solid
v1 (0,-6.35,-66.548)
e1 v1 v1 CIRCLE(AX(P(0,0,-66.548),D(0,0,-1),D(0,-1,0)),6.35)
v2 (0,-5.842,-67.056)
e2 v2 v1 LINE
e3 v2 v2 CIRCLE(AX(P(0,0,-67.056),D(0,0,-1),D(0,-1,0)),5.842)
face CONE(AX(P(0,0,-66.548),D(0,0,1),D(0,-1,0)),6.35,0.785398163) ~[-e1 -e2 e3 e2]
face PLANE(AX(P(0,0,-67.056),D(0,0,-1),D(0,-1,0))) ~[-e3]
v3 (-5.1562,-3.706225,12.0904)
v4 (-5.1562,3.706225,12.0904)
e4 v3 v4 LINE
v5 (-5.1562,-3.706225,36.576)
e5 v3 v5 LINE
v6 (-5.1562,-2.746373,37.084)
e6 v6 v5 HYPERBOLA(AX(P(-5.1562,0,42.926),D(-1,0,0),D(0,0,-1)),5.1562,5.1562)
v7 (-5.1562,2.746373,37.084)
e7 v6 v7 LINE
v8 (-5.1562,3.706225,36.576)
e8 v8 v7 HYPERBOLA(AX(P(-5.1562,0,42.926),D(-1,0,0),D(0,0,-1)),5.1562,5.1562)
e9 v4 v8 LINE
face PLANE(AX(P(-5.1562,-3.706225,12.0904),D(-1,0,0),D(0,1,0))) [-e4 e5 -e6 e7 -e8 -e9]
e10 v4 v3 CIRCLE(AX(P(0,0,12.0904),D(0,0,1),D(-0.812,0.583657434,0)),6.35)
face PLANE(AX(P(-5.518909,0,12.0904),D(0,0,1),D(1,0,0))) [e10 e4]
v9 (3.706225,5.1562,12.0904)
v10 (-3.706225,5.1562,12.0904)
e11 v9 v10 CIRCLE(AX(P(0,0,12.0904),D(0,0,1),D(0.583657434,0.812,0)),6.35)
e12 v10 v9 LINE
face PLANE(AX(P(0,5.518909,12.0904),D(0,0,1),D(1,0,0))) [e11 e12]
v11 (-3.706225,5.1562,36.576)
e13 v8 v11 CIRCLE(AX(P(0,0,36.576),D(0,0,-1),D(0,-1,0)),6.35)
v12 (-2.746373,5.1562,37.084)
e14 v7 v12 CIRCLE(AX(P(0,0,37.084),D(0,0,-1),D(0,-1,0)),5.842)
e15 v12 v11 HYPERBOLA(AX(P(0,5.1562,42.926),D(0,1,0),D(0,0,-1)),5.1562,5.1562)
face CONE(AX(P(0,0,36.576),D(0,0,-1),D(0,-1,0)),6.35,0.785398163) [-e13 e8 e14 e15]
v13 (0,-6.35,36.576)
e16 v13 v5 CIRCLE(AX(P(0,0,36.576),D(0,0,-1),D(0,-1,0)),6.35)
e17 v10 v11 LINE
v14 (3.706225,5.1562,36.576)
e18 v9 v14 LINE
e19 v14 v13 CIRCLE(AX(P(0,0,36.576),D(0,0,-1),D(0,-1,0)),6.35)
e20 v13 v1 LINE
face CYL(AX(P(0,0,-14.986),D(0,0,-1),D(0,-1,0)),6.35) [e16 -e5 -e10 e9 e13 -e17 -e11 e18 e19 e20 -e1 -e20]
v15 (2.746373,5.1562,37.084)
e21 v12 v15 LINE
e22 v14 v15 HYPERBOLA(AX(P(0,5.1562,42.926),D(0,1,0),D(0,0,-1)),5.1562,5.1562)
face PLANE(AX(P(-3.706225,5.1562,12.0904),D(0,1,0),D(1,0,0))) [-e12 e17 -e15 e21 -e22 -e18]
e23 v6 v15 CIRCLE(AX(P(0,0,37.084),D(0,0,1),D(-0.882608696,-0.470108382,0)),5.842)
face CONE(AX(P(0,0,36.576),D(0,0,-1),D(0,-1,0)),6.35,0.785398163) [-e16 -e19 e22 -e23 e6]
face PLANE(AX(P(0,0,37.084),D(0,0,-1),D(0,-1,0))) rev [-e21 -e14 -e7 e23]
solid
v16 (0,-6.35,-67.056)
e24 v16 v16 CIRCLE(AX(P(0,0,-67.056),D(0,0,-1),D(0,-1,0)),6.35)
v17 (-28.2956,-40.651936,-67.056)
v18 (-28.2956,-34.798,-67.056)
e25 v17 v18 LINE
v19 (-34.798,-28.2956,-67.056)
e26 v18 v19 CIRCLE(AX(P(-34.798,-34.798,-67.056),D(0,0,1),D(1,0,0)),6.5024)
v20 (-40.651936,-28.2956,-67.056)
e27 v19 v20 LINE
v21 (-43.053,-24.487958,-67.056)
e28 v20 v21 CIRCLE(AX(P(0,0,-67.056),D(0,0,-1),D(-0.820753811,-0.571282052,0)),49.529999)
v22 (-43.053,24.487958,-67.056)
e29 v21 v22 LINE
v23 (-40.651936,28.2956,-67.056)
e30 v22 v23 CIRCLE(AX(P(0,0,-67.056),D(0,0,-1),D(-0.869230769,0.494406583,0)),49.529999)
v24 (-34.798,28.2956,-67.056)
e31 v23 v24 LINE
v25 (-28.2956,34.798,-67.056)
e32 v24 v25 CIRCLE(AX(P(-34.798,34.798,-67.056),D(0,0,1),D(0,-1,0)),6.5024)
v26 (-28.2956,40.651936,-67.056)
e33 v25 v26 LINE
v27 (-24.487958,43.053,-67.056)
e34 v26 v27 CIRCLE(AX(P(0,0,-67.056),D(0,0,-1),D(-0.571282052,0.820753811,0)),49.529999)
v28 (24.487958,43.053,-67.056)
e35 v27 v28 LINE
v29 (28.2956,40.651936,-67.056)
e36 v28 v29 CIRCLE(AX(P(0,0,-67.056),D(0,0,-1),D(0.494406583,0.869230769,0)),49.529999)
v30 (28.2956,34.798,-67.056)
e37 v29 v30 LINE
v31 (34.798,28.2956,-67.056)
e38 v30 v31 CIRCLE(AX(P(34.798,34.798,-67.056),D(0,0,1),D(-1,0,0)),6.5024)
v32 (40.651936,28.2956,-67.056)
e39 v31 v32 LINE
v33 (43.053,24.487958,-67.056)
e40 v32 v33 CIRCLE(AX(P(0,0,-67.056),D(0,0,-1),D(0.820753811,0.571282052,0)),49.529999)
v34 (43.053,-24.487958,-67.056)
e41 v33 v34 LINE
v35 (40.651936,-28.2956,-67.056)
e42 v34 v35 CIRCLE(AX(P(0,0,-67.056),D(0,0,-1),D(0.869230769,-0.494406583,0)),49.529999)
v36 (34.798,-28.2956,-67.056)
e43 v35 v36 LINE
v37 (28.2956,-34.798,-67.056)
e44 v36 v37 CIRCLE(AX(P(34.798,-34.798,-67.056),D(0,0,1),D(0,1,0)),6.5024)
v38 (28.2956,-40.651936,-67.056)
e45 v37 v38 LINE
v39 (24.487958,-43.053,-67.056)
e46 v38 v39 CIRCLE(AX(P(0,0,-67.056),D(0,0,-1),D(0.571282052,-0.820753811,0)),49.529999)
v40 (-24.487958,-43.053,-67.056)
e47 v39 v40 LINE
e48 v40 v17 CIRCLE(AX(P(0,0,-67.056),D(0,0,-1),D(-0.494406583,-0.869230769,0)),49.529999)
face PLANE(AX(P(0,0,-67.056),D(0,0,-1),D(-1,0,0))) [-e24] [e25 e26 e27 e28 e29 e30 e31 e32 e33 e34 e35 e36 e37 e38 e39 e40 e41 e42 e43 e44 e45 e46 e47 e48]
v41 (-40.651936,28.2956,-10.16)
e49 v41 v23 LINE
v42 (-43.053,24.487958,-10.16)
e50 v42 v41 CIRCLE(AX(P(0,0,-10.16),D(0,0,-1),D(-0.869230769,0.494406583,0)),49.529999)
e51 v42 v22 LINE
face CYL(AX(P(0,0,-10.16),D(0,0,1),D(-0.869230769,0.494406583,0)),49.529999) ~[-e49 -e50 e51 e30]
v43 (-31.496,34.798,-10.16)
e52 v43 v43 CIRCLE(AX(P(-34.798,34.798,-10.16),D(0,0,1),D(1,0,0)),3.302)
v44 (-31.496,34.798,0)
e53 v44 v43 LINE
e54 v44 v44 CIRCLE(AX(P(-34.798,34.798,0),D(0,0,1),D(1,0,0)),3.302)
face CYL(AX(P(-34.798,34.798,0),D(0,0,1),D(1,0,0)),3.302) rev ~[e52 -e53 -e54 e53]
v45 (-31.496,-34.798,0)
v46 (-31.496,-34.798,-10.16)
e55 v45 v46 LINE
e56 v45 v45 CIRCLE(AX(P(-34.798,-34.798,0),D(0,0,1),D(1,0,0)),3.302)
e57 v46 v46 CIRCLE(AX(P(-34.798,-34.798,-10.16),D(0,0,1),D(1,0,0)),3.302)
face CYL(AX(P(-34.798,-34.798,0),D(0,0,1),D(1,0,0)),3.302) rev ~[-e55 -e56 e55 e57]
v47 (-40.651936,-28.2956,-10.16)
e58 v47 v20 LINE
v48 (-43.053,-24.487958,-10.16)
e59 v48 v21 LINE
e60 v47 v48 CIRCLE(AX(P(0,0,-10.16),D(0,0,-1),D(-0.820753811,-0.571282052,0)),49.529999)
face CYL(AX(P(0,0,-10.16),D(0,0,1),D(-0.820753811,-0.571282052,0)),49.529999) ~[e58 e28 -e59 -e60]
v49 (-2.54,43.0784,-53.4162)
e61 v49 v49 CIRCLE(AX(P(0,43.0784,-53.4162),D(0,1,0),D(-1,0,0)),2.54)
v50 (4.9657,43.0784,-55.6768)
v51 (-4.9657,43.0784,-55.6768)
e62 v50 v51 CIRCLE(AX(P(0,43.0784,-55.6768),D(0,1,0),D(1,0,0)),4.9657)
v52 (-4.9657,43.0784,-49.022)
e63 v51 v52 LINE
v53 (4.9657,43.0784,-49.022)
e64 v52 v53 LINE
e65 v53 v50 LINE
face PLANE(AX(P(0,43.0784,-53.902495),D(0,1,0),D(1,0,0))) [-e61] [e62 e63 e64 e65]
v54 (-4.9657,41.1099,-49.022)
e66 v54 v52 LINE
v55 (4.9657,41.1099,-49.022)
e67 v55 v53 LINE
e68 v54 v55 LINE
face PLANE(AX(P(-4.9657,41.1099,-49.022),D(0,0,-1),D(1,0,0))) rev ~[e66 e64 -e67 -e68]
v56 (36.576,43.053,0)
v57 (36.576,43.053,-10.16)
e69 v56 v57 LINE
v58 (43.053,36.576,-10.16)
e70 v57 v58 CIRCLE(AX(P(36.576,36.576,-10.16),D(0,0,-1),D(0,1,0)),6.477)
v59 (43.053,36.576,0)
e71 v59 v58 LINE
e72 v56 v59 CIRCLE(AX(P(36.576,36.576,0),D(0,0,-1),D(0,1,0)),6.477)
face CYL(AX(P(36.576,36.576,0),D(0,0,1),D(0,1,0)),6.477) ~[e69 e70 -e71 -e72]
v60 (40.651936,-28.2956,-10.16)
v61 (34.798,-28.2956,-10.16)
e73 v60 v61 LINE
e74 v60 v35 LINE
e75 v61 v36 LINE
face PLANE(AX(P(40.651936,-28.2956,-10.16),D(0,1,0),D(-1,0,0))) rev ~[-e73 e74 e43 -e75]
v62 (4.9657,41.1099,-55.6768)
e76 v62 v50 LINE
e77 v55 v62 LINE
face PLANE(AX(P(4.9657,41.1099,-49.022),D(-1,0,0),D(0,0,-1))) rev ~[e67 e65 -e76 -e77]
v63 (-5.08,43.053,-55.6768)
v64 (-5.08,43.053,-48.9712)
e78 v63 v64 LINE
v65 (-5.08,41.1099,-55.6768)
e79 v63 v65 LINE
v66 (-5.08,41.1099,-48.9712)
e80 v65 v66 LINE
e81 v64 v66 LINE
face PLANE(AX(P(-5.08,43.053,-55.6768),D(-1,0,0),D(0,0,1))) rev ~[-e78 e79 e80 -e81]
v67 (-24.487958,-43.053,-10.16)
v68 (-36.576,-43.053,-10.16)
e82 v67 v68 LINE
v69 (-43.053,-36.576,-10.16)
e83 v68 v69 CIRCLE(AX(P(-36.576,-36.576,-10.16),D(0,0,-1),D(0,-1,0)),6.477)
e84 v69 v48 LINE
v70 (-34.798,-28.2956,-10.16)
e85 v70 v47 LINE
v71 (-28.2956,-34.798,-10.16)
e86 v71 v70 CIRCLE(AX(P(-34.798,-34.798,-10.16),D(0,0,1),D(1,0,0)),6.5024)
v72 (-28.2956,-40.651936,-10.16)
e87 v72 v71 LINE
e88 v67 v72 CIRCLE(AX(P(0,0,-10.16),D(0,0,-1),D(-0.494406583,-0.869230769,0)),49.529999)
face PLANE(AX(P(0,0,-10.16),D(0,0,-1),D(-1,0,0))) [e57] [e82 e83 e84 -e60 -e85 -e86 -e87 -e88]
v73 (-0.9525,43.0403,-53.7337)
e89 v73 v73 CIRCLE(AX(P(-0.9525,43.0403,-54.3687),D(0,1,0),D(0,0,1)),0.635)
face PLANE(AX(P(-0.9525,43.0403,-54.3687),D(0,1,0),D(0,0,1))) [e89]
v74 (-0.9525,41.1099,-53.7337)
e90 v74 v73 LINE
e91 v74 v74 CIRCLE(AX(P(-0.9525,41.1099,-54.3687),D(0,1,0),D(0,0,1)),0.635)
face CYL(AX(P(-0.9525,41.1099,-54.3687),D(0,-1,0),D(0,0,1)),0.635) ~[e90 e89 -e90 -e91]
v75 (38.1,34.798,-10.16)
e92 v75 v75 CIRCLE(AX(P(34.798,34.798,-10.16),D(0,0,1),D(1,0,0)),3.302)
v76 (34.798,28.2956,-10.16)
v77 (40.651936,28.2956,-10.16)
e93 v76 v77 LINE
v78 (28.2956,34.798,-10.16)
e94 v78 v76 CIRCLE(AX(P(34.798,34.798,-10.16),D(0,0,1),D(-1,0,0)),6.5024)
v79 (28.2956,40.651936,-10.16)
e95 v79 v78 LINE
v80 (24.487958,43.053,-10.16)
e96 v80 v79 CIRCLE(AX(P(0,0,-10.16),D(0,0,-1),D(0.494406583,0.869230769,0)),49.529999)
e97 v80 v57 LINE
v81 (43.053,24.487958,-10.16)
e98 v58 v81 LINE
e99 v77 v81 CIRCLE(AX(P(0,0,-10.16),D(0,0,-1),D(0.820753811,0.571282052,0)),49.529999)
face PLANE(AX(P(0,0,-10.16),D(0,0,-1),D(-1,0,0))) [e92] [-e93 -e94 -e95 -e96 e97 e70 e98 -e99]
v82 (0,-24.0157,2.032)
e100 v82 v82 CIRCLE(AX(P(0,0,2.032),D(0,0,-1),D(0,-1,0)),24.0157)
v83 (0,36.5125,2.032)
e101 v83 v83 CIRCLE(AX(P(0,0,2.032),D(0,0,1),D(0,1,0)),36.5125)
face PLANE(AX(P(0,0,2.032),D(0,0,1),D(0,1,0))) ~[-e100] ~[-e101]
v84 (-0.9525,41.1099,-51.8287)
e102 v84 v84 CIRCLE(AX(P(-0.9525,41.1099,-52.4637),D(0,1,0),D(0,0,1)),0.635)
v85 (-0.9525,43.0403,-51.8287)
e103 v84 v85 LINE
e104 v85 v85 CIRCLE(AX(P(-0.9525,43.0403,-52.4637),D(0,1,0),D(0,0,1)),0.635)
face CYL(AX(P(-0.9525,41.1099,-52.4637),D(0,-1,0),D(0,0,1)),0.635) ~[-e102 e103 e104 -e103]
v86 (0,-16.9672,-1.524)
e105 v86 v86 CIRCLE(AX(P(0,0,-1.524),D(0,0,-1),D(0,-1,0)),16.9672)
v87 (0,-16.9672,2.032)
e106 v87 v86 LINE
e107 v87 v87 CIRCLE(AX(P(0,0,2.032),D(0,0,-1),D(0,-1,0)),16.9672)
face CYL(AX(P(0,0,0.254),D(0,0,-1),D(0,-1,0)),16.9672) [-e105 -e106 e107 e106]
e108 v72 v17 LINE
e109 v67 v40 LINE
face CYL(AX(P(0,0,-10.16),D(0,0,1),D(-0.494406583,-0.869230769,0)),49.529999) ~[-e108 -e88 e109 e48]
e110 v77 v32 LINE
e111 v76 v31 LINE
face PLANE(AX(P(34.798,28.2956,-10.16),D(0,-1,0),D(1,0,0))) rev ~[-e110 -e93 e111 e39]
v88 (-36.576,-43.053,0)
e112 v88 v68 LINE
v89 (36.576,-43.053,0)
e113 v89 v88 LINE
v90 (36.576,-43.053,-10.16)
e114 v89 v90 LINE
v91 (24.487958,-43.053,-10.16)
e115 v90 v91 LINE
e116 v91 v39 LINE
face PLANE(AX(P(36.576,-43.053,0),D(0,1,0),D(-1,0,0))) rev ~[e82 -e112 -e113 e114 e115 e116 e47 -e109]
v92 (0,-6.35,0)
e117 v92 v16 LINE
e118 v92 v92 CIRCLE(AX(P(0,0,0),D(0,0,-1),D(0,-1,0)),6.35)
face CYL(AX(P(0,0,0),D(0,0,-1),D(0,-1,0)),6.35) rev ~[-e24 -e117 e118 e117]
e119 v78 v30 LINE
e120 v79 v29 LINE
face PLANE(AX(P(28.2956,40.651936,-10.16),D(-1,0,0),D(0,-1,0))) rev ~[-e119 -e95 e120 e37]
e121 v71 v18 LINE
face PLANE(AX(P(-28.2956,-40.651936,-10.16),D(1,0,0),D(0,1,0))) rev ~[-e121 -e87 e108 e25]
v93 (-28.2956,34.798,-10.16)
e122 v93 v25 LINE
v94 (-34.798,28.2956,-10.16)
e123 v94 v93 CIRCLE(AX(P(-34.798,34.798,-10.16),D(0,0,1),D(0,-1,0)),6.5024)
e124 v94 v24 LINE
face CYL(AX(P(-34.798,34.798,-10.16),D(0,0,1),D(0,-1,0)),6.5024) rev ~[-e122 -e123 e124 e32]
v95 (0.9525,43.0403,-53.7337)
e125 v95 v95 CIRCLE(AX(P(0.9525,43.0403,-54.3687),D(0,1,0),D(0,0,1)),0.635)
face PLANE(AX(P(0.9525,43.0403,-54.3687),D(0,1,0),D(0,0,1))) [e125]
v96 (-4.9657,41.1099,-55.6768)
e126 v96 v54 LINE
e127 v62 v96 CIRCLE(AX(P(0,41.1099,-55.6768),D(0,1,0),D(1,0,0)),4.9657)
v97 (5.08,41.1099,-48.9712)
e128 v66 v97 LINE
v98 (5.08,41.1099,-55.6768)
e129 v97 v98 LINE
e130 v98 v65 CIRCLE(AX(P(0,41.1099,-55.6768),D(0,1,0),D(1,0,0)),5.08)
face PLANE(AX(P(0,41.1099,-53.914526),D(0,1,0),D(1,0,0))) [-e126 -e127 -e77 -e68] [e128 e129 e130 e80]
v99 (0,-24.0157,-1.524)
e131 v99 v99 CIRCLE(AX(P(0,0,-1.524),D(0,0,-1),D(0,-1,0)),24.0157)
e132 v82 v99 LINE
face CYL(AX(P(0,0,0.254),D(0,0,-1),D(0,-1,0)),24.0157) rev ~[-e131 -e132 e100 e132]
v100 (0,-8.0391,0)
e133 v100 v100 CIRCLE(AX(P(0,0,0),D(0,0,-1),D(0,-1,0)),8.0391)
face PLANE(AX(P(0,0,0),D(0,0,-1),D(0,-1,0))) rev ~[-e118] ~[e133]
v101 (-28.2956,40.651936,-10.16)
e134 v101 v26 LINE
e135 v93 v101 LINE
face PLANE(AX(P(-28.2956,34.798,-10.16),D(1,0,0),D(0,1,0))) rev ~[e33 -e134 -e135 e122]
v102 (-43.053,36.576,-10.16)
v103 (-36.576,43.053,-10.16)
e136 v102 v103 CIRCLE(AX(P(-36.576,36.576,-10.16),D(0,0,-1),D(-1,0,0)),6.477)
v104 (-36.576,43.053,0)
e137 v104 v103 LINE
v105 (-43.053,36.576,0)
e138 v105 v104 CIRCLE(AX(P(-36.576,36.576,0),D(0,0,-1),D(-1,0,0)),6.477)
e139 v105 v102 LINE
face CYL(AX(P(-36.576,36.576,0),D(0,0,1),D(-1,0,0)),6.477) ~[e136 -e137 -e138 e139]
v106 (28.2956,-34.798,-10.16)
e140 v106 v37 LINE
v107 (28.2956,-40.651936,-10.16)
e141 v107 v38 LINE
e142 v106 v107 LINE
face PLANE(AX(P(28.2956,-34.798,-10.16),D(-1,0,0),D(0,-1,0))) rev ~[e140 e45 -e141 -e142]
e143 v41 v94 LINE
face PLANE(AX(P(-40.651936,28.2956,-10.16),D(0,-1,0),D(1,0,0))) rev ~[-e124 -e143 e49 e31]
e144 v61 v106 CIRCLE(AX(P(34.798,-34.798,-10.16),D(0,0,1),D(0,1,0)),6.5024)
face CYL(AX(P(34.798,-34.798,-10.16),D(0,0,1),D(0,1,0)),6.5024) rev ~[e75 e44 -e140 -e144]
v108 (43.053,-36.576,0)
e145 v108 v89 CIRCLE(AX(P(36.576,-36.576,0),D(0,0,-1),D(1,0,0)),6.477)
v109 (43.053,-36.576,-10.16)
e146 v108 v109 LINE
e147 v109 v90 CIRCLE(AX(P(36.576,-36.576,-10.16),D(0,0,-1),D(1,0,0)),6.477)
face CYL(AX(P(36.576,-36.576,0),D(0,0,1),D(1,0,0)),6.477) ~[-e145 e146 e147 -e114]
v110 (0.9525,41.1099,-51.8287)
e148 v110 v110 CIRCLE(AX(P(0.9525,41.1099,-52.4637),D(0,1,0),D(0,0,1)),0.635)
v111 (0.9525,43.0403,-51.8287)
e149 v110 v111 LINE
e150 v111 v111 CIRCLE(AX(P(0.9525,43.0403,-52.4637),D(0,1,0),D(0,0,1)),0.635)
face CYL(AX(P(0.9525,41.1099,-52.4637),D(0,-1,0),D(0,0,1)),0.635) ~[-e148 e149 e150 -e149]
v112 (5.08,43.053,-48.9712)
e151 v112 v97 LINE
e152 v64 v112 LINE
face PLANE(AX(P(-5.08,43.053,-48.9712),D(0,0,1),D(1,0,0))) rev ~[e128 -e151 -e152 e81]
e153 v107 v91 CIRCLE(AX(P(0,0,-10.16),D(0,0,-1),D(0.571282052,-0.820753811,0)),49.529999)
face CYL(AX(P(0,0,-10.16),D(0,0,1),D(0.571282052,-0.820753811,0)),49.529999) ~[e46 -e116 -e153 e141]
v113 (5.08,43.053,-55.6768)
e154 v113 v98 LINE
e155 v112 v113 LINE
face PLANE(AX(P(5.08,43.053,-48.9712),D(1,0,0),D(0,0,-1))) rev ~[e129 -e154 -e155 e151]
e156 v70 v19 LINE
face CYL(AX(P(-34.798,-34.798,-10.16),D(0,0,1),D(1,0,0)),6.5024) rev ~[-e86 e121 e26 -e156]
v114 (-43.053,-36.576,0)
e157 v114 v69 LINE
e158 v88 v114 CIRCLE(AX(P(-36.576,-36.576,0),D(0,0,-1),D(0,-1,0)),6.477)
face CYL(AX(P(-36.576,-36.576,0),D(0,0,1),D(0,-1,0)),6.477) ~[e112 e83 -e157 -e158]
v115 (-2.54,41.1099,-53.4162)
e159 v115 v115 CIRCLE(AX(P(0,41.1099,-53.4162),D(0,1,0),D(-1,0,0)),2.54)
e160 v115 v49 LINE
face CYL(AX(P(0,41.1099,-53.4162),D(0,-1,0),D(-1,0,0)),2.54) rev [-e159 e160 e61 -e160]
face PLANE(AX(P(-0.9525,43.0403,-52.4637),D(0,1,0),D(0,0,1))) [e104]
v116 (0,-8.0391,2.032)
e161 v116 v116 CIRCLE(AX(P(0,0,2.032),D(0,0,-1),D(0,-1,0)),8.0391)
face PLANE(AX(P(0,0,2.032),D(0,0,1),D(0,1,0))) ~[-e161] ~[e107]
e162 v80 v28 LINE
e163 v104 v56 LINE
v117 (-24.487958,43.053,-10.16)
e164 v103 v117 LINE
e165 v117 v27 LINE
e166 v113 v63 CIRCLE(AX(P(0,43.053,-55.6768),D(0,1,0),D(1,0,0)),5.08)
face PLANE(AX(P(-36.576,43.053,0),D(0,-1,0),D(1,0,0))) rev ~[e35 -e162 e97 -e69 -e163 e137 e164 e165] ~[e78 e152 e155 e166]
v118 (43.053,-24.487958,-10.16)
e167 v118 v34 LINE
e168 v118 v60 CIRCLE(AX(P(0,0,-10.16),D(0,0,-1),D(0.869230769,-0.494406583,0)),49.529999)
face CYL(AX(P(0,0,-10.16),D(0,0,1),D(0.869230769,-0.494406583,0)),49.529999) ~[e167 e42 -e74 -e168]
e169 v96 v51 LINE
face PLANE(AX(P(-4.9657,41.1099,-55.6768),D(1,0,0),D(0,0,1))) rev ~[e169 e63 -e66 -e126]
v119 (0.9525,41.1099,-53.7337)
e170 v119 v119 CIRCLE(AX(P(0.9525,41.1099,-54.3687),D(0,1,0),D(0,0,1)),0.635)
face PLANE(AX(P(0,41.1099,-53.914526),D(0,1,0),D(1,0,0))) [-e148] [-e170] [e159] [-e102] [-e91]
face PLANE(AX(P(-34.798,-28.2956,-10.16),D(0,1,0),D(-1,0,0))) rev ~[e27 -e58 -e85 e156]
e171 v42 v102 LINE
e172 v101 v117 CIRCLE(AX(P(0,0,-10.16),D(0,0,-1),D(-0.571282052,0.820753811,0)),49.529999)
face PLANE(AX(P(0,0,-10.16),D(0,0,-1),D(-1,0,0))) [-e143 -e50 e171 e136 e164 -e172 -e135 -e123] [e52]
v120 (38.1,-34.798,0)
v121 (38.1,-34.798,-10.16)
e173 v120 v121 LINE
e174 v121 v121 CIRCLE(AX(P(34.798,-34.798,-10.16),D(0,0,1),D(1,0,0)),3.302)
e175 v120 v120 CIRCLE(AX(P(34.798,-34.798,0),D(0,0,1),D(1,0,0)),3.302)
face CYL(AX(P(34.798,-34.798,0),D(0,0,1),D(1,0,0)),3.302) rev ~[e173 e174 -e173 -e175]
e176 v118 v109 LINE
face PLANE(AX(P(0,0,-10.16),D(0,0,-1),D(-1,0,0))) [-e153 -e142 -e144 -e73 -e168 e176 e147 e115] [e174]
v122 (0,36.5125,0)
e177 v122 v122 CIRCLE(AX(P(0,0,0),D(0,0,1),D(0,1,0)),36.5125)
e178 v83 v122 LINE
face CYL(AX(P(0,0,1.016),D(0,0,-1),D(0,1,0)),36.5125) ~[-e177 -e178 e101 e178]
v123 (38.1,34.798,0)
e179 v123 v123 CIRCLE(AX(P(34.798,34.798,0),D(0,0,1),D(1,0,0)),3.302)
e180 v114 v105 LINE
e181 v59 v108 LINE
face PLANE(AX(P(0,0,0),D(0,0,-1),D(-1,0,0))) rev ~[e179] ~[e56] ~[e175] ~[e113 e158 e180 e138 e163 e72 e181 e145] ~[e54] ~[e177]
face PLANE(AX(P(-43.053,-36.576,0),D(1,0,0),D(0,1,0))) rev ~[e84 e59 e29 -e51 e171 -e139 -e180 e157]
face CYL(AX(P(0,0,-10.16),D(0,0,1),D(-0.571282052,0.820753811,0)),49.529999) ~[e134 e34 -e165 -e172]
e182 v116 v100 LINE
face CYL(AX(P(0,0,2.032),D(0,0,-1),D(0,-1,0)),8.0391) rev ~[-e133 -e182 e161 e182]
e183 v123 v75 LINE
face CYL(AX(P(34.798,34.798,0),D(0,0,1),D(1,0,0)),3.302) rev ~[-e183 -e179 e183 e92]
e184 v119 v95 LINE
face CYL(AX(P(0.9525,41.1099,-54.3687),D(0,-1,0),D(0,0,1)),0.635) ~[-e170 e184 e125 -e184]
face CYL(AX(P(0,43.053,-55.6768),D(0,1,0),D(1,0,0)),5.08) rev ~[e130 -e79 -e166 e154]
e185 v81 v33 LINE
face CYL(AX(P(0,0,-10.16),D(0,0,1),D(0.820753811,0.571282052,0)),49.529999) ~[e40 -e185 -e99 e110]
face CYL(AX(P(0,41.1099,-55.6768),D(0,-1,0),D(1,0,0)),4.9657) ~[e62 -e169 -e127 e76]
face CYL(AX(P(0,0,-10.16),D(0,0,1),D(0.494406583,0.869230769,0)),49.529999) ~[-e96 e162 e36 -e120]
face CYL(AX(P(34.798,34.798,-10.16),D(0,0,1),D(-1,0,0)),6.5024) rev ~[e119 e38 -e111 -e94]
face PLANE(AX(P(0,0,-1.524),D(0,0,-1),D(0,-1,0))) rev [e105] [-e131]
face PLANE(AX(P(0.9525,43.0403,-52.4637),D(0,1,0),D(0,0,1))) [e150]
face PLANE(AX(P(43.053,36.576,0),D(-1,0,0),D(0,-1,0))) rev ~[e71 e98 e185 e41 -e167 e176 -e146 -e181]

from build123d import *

# Parameters (mm, degrees)
BOSS_EXTRUDE1_DEPTH = 10.16
BOSS_EXTRUDE2_DEPTH = 56.896
SKETCH5_W           = 2.032
SKETCH5_H           = 36.5125
SKETCH6_W           = 3.556
SKETCH6_H           = 7.0485
SKETCH7_W           = 104.14
SKETCH7_H           = 6.35
CHAMFER1_SIZE       = 0.508
CUT_EXTRUDE1_START  = -24.9936
CUT_EXTRUDE1_DEPTH  = 24.9936
SKETCH9_R           = 3.302
CUT_EXTRUDE2_DEPTH  = 10.16
CUT_EXTRUDE3_DEPTH  = 1.9431
SKETCH11_R          = 2.54
BOSS_EXTRUDE3_DEPTH = 1.9685
SKETCH13_R          = 0.635
BOSS_EXTRUDE4_DEPTH = 1.9304


with BuildPart() as part:
    # Sketch3 → Boss-Extrude1 (new body)
    with BuildSketch(Plane.XY):
        with BuildLine():
            Line((-43.053, -36.576), (-43.053, 36.576))
            ThreePointArc((-43.053, 36.576), (-41.155930622, 41.155930622), (-36.576, 43.053))
            Line((-36.576, 43.053), (36.576, 43.053))
            ThreePointArc((36.576, 43.053), (41.155930622, 41.155930622), (43.053, 36.576))
            Line((43.053, 36.576), (43.053, -36.576))
            ThreePointArc((43.053, -36.576), (41.155930622, -41.155930622), (36.576, -43.053))
            Line((36.576, -43.053), (-36.576, -43.053))
            ThreePointArc((-36.576, -43.053), (-41.155930622, -41.155930622), (-43.053, -36.576))
        make_face()
    extrude(amount=-BOSS_EXTRUDE1_DEPTH)

    # Sketch4 → Boss-Extrude2 (add)
    with BuildSketch(Plane.XY.offset(-10.16)):
        with BuildLine():
            Line((-40.651936247, 28.2956), (-34.798, 28.2956))
            ThreePointArc((-34.798, 28.2956), (-30.200108866, 30.200108866), (-28.2956, 34.798))
            Line((-28.2956, 34.798), (-28.2956, 40.651936247))
            ThreePointArc((-28.2956, 40.651936247), (-26.419070342, 41.895747067), (-24.487958081, 43.053))
            Line((-24.487958081, 43.053), (24.487958081, 43.053))
            ThreePointArc((24.487958081, 43.053), (26.419070342, 41.895747067), (28.2956, 40.651936247))
            Line((28.2956, 40.651936247), (28.2956, 34.798))
            ThreePointArc((28.2956, 34.798), (30.200108866, 30.200108866), (34.798, 28.2956))
            Line((34.798, 28.2956), (40.651936247, 28.2956))
            ThreePointArc((40.651936247, 28.2956), (41.895747067, 26.419070342), (43.053, 24.487958081))
            Line((43.053, 24.487958081), (43.053, -24.487958081))
            ThreePointArc((43.053, -24.487958081), (41.895747067, -26.419070342), (40.651936247, -28.2956))
            Line((40.651936247, -28.2956), (34.798, -28.2956))
            ThreePointArc((34.798, -28.2956), (30.200108866, -30.200108866), (28.2956, -34.798))
            Line((28.2956, -34.798), (28.2956, -40.651936247))
            ThreePointArc((28.2956, -40.651936247), (26.419070342, -41.895747067), (24.487958081, -43.053))
            Line((24.487958081, -43.053), (-24.487958081, -43.053))
            ThreePointArc((-24.487958081, -43.053), (-26.419070342, -41.895747067), (-28.2956, -40.651936247))
            Line((-28.2956, -40.651936247), (-28.2956, -34.798))
            ThreePointArc((-28.2956, -34.798), (-30.200108866, -30.200108866), (-34.798, -28.2956))
            Line((-34.798, -28.2956), (-40.651936247, -28.2956))
            ThreePointArc((-40.651936247, -28.2956), (-41.895747067, -26.419070342), (-43.053, -24.487958081))
            Line((-43.053, -24.487958081), (-43.053, 24.487958081))
            ThreePointArc((-43.053, 24.487958081), (-41.895747067, 26.419070342), (-40.651936247, 28.2956))
        make_face()
    extrude(amount=-BOSS_EXTRUDE2_DEPTH)

    # Sketch5 → Revolve1 (revolve)
    with BuildSketch(Plane(origin=(0, 0, 0), x_dir=(0, 0, -1), z_dir=(1, 0, 0))):
        with Locations((-1.016, 18.25625)):
            Rectangle(SKETCH5_W, SKETCH5_H)
    revolve(axis=Axis((0, 0, 0), (0, 0, 1)))

    # Sketch6 → Cut-Revolve1 (revolve, cut)
    with BuildSketch(Plane(origin=(0, 0, 0), x_dir=(0, 0, -1), z_dir=(1, 0, 0)), mode=Mode.PRIVATE) as cut_revolve1_sk:
        Polygon((67.056, 0), (-2.032, 0), (-2.032, 8.0391), (0, 8.0391), (0, 6.35), (67.056, 6.35), align=None)
        with Locations((-0.254, 20.49145)):
            Rectangle(SKETCH6_W, SKETCH6_H)
    revolve(cut_revolve1_sk.sketch.rotate(Axis((0, 0, 37.084), (0, 0, -1)), 180), axis=Axis((0, 0, 37.084), (0, 0, -1)), mode=Mode.SUBTRACT)

    # Sketch9 → Cut-Extrude2 (cut)
    with BuildSketch(Plane.XY):
        with Locations((34.798, -34.798)):
            Circle(SKETCH9_R)
        with Locations((-34.798, -34.798)):
            Circle(SKETCH9_R)
        with Locations((-34.798, 34.798)):
            Circle(SKETCH9_R)
        with Locations((34.798, 34.798)):
            Circle(SKETCH9_R)
    extrude(amount=-CUT_EXTRUDE2_DEPTH, mode=Mode.SUBTRACT)

    # Sketch10 → Cut-Extrude3 (cut)
    with BuildSketch(Plane(origin=(0, 43.053, -0.751200197), x_dir=(1, 0, 0), z_dir=(0, 1, 0))):
        with BuildLine():
            Line((-5.08, 54.925599803), (-5.08, 48.219999803))
            Line((-5.08, 48.219999803), (5.08, 48.219999803))
            Line((5.08, 48.219999803), (5.08, 54.925599803))
            ThreePointArc((5.08, 54.925599803), (0, 60.005599803), (-5.08, 54.925599803))
        make_face()
    extrude(amount=-CUT_EXTRUDE3_DEPTH, mode=Mode.SUBTRACT)

    # Sketch11 → Boss-Extrude3 (add)
    with BuildSketch(Plane(origin=(0, 41.1099, 0), x_dir=(1, 0, 0), z_dir=(0, 1, 0))):
        with BuildLine():
            Line((-4.9657, 55.6768), (-4.9657, 49.022))
            Line((-4.9657, 49.022), (4.9657, 49.022))
            Line((4.9657, 49.022), (4.9657, 55.6768))
            ThreePointArc((4.9657, 55.6768), (0, 60.6425), (-4.9657, 55.6768))
        make_face()
        with Locations(Location((0, 53.4162, 0), (0, 0, 180))):
            Circle(SKETCH11_R, mode=Mode.SUBTRACT)
    extrude(amount=BOSS_EXTRUDE3_DEPTH)

    # Sketch13 → Boss-Extrude4 (add)
    with BuildSketch(Plane(origin=(0, 41.1099, 0), x_dir=(1, 0, 0), z_dir=(0, 1, 0))):
        with Locations(Location((-0.9525, 54.3687, 0), (0, 0, 270))):
            Circle(SKETCH13_R)
        with Locations(Location((0.9525, 54.3687, 0), (0, 0, 270))):
            Circle(SKETCH13_R)
        with Locations(Location((0.9525, 52.4637, 0), (0, 0, 270))):
            Circle(SKETCH13_R)
        with Locations(Location((-0.9525, 52.4637, 0), (0, 0, 270))):
            Circle(SKETCH13_R)
    extrude(amount=BOSS_EXTRUDE4_DEPTH)


with BuildPart() as body_2:
    # Sketch7 → Revolve2 (revolve)
    with BuildSketch(Plane(origin=(0, 0, 0), x_dir=(0, 0, -1), z_dir=(1, 0, 0)), mode=Mode.PRIVATE) as revolve2_sk:
        with Locations((14.986, 3.175)):
            Rectangle(SKETCH7_W, SKETCH7_H)
    revolve(revolve2_sk.sketch.rotate(Axis((0, 0, 37.084), (0, 0, -1)), 180), axis=Axis((0, 0, 37.084), (0, 0, -1)))

    # Chamfer1
    chamfer1_edges = [body_2.edges().sort_by_distance(p)[0] for p in [
        (0, 6.35, 37.084),
        (0, 6.35, -67.056),
    ]]
    chamfer(chamfer1_edges, length=CHAMFER1_SIZE)

    # Sketch8 → Cut-Extrude1 (cut)
    with BuildSketch(Plane.XY.offset(37.084).offset(CUT_EXTRUDE1_START)):
        with BuildLine():
            Line((-5.1562, -3.706224704), (-5.1562, 3.706224704))
            ThreePointArc((-5.1562, 3.706224704), (-6.35, 0), (-5.1562, -3.706224704))
        make_face()
        with BuildLine():
            Line((-3.706224704, 5.1562), (3.706224704, 5.1562))
            ThreePointArc((3.706224704, 5.1562), (0, 6.35), (-3.706224704, 5.1562))
        make_face()
    extrude(amount=CUT_EXTRUDE1_DEPTH, mode=Mode.SUBTRACT)


solid = Compound([part.part, body_2.part])
